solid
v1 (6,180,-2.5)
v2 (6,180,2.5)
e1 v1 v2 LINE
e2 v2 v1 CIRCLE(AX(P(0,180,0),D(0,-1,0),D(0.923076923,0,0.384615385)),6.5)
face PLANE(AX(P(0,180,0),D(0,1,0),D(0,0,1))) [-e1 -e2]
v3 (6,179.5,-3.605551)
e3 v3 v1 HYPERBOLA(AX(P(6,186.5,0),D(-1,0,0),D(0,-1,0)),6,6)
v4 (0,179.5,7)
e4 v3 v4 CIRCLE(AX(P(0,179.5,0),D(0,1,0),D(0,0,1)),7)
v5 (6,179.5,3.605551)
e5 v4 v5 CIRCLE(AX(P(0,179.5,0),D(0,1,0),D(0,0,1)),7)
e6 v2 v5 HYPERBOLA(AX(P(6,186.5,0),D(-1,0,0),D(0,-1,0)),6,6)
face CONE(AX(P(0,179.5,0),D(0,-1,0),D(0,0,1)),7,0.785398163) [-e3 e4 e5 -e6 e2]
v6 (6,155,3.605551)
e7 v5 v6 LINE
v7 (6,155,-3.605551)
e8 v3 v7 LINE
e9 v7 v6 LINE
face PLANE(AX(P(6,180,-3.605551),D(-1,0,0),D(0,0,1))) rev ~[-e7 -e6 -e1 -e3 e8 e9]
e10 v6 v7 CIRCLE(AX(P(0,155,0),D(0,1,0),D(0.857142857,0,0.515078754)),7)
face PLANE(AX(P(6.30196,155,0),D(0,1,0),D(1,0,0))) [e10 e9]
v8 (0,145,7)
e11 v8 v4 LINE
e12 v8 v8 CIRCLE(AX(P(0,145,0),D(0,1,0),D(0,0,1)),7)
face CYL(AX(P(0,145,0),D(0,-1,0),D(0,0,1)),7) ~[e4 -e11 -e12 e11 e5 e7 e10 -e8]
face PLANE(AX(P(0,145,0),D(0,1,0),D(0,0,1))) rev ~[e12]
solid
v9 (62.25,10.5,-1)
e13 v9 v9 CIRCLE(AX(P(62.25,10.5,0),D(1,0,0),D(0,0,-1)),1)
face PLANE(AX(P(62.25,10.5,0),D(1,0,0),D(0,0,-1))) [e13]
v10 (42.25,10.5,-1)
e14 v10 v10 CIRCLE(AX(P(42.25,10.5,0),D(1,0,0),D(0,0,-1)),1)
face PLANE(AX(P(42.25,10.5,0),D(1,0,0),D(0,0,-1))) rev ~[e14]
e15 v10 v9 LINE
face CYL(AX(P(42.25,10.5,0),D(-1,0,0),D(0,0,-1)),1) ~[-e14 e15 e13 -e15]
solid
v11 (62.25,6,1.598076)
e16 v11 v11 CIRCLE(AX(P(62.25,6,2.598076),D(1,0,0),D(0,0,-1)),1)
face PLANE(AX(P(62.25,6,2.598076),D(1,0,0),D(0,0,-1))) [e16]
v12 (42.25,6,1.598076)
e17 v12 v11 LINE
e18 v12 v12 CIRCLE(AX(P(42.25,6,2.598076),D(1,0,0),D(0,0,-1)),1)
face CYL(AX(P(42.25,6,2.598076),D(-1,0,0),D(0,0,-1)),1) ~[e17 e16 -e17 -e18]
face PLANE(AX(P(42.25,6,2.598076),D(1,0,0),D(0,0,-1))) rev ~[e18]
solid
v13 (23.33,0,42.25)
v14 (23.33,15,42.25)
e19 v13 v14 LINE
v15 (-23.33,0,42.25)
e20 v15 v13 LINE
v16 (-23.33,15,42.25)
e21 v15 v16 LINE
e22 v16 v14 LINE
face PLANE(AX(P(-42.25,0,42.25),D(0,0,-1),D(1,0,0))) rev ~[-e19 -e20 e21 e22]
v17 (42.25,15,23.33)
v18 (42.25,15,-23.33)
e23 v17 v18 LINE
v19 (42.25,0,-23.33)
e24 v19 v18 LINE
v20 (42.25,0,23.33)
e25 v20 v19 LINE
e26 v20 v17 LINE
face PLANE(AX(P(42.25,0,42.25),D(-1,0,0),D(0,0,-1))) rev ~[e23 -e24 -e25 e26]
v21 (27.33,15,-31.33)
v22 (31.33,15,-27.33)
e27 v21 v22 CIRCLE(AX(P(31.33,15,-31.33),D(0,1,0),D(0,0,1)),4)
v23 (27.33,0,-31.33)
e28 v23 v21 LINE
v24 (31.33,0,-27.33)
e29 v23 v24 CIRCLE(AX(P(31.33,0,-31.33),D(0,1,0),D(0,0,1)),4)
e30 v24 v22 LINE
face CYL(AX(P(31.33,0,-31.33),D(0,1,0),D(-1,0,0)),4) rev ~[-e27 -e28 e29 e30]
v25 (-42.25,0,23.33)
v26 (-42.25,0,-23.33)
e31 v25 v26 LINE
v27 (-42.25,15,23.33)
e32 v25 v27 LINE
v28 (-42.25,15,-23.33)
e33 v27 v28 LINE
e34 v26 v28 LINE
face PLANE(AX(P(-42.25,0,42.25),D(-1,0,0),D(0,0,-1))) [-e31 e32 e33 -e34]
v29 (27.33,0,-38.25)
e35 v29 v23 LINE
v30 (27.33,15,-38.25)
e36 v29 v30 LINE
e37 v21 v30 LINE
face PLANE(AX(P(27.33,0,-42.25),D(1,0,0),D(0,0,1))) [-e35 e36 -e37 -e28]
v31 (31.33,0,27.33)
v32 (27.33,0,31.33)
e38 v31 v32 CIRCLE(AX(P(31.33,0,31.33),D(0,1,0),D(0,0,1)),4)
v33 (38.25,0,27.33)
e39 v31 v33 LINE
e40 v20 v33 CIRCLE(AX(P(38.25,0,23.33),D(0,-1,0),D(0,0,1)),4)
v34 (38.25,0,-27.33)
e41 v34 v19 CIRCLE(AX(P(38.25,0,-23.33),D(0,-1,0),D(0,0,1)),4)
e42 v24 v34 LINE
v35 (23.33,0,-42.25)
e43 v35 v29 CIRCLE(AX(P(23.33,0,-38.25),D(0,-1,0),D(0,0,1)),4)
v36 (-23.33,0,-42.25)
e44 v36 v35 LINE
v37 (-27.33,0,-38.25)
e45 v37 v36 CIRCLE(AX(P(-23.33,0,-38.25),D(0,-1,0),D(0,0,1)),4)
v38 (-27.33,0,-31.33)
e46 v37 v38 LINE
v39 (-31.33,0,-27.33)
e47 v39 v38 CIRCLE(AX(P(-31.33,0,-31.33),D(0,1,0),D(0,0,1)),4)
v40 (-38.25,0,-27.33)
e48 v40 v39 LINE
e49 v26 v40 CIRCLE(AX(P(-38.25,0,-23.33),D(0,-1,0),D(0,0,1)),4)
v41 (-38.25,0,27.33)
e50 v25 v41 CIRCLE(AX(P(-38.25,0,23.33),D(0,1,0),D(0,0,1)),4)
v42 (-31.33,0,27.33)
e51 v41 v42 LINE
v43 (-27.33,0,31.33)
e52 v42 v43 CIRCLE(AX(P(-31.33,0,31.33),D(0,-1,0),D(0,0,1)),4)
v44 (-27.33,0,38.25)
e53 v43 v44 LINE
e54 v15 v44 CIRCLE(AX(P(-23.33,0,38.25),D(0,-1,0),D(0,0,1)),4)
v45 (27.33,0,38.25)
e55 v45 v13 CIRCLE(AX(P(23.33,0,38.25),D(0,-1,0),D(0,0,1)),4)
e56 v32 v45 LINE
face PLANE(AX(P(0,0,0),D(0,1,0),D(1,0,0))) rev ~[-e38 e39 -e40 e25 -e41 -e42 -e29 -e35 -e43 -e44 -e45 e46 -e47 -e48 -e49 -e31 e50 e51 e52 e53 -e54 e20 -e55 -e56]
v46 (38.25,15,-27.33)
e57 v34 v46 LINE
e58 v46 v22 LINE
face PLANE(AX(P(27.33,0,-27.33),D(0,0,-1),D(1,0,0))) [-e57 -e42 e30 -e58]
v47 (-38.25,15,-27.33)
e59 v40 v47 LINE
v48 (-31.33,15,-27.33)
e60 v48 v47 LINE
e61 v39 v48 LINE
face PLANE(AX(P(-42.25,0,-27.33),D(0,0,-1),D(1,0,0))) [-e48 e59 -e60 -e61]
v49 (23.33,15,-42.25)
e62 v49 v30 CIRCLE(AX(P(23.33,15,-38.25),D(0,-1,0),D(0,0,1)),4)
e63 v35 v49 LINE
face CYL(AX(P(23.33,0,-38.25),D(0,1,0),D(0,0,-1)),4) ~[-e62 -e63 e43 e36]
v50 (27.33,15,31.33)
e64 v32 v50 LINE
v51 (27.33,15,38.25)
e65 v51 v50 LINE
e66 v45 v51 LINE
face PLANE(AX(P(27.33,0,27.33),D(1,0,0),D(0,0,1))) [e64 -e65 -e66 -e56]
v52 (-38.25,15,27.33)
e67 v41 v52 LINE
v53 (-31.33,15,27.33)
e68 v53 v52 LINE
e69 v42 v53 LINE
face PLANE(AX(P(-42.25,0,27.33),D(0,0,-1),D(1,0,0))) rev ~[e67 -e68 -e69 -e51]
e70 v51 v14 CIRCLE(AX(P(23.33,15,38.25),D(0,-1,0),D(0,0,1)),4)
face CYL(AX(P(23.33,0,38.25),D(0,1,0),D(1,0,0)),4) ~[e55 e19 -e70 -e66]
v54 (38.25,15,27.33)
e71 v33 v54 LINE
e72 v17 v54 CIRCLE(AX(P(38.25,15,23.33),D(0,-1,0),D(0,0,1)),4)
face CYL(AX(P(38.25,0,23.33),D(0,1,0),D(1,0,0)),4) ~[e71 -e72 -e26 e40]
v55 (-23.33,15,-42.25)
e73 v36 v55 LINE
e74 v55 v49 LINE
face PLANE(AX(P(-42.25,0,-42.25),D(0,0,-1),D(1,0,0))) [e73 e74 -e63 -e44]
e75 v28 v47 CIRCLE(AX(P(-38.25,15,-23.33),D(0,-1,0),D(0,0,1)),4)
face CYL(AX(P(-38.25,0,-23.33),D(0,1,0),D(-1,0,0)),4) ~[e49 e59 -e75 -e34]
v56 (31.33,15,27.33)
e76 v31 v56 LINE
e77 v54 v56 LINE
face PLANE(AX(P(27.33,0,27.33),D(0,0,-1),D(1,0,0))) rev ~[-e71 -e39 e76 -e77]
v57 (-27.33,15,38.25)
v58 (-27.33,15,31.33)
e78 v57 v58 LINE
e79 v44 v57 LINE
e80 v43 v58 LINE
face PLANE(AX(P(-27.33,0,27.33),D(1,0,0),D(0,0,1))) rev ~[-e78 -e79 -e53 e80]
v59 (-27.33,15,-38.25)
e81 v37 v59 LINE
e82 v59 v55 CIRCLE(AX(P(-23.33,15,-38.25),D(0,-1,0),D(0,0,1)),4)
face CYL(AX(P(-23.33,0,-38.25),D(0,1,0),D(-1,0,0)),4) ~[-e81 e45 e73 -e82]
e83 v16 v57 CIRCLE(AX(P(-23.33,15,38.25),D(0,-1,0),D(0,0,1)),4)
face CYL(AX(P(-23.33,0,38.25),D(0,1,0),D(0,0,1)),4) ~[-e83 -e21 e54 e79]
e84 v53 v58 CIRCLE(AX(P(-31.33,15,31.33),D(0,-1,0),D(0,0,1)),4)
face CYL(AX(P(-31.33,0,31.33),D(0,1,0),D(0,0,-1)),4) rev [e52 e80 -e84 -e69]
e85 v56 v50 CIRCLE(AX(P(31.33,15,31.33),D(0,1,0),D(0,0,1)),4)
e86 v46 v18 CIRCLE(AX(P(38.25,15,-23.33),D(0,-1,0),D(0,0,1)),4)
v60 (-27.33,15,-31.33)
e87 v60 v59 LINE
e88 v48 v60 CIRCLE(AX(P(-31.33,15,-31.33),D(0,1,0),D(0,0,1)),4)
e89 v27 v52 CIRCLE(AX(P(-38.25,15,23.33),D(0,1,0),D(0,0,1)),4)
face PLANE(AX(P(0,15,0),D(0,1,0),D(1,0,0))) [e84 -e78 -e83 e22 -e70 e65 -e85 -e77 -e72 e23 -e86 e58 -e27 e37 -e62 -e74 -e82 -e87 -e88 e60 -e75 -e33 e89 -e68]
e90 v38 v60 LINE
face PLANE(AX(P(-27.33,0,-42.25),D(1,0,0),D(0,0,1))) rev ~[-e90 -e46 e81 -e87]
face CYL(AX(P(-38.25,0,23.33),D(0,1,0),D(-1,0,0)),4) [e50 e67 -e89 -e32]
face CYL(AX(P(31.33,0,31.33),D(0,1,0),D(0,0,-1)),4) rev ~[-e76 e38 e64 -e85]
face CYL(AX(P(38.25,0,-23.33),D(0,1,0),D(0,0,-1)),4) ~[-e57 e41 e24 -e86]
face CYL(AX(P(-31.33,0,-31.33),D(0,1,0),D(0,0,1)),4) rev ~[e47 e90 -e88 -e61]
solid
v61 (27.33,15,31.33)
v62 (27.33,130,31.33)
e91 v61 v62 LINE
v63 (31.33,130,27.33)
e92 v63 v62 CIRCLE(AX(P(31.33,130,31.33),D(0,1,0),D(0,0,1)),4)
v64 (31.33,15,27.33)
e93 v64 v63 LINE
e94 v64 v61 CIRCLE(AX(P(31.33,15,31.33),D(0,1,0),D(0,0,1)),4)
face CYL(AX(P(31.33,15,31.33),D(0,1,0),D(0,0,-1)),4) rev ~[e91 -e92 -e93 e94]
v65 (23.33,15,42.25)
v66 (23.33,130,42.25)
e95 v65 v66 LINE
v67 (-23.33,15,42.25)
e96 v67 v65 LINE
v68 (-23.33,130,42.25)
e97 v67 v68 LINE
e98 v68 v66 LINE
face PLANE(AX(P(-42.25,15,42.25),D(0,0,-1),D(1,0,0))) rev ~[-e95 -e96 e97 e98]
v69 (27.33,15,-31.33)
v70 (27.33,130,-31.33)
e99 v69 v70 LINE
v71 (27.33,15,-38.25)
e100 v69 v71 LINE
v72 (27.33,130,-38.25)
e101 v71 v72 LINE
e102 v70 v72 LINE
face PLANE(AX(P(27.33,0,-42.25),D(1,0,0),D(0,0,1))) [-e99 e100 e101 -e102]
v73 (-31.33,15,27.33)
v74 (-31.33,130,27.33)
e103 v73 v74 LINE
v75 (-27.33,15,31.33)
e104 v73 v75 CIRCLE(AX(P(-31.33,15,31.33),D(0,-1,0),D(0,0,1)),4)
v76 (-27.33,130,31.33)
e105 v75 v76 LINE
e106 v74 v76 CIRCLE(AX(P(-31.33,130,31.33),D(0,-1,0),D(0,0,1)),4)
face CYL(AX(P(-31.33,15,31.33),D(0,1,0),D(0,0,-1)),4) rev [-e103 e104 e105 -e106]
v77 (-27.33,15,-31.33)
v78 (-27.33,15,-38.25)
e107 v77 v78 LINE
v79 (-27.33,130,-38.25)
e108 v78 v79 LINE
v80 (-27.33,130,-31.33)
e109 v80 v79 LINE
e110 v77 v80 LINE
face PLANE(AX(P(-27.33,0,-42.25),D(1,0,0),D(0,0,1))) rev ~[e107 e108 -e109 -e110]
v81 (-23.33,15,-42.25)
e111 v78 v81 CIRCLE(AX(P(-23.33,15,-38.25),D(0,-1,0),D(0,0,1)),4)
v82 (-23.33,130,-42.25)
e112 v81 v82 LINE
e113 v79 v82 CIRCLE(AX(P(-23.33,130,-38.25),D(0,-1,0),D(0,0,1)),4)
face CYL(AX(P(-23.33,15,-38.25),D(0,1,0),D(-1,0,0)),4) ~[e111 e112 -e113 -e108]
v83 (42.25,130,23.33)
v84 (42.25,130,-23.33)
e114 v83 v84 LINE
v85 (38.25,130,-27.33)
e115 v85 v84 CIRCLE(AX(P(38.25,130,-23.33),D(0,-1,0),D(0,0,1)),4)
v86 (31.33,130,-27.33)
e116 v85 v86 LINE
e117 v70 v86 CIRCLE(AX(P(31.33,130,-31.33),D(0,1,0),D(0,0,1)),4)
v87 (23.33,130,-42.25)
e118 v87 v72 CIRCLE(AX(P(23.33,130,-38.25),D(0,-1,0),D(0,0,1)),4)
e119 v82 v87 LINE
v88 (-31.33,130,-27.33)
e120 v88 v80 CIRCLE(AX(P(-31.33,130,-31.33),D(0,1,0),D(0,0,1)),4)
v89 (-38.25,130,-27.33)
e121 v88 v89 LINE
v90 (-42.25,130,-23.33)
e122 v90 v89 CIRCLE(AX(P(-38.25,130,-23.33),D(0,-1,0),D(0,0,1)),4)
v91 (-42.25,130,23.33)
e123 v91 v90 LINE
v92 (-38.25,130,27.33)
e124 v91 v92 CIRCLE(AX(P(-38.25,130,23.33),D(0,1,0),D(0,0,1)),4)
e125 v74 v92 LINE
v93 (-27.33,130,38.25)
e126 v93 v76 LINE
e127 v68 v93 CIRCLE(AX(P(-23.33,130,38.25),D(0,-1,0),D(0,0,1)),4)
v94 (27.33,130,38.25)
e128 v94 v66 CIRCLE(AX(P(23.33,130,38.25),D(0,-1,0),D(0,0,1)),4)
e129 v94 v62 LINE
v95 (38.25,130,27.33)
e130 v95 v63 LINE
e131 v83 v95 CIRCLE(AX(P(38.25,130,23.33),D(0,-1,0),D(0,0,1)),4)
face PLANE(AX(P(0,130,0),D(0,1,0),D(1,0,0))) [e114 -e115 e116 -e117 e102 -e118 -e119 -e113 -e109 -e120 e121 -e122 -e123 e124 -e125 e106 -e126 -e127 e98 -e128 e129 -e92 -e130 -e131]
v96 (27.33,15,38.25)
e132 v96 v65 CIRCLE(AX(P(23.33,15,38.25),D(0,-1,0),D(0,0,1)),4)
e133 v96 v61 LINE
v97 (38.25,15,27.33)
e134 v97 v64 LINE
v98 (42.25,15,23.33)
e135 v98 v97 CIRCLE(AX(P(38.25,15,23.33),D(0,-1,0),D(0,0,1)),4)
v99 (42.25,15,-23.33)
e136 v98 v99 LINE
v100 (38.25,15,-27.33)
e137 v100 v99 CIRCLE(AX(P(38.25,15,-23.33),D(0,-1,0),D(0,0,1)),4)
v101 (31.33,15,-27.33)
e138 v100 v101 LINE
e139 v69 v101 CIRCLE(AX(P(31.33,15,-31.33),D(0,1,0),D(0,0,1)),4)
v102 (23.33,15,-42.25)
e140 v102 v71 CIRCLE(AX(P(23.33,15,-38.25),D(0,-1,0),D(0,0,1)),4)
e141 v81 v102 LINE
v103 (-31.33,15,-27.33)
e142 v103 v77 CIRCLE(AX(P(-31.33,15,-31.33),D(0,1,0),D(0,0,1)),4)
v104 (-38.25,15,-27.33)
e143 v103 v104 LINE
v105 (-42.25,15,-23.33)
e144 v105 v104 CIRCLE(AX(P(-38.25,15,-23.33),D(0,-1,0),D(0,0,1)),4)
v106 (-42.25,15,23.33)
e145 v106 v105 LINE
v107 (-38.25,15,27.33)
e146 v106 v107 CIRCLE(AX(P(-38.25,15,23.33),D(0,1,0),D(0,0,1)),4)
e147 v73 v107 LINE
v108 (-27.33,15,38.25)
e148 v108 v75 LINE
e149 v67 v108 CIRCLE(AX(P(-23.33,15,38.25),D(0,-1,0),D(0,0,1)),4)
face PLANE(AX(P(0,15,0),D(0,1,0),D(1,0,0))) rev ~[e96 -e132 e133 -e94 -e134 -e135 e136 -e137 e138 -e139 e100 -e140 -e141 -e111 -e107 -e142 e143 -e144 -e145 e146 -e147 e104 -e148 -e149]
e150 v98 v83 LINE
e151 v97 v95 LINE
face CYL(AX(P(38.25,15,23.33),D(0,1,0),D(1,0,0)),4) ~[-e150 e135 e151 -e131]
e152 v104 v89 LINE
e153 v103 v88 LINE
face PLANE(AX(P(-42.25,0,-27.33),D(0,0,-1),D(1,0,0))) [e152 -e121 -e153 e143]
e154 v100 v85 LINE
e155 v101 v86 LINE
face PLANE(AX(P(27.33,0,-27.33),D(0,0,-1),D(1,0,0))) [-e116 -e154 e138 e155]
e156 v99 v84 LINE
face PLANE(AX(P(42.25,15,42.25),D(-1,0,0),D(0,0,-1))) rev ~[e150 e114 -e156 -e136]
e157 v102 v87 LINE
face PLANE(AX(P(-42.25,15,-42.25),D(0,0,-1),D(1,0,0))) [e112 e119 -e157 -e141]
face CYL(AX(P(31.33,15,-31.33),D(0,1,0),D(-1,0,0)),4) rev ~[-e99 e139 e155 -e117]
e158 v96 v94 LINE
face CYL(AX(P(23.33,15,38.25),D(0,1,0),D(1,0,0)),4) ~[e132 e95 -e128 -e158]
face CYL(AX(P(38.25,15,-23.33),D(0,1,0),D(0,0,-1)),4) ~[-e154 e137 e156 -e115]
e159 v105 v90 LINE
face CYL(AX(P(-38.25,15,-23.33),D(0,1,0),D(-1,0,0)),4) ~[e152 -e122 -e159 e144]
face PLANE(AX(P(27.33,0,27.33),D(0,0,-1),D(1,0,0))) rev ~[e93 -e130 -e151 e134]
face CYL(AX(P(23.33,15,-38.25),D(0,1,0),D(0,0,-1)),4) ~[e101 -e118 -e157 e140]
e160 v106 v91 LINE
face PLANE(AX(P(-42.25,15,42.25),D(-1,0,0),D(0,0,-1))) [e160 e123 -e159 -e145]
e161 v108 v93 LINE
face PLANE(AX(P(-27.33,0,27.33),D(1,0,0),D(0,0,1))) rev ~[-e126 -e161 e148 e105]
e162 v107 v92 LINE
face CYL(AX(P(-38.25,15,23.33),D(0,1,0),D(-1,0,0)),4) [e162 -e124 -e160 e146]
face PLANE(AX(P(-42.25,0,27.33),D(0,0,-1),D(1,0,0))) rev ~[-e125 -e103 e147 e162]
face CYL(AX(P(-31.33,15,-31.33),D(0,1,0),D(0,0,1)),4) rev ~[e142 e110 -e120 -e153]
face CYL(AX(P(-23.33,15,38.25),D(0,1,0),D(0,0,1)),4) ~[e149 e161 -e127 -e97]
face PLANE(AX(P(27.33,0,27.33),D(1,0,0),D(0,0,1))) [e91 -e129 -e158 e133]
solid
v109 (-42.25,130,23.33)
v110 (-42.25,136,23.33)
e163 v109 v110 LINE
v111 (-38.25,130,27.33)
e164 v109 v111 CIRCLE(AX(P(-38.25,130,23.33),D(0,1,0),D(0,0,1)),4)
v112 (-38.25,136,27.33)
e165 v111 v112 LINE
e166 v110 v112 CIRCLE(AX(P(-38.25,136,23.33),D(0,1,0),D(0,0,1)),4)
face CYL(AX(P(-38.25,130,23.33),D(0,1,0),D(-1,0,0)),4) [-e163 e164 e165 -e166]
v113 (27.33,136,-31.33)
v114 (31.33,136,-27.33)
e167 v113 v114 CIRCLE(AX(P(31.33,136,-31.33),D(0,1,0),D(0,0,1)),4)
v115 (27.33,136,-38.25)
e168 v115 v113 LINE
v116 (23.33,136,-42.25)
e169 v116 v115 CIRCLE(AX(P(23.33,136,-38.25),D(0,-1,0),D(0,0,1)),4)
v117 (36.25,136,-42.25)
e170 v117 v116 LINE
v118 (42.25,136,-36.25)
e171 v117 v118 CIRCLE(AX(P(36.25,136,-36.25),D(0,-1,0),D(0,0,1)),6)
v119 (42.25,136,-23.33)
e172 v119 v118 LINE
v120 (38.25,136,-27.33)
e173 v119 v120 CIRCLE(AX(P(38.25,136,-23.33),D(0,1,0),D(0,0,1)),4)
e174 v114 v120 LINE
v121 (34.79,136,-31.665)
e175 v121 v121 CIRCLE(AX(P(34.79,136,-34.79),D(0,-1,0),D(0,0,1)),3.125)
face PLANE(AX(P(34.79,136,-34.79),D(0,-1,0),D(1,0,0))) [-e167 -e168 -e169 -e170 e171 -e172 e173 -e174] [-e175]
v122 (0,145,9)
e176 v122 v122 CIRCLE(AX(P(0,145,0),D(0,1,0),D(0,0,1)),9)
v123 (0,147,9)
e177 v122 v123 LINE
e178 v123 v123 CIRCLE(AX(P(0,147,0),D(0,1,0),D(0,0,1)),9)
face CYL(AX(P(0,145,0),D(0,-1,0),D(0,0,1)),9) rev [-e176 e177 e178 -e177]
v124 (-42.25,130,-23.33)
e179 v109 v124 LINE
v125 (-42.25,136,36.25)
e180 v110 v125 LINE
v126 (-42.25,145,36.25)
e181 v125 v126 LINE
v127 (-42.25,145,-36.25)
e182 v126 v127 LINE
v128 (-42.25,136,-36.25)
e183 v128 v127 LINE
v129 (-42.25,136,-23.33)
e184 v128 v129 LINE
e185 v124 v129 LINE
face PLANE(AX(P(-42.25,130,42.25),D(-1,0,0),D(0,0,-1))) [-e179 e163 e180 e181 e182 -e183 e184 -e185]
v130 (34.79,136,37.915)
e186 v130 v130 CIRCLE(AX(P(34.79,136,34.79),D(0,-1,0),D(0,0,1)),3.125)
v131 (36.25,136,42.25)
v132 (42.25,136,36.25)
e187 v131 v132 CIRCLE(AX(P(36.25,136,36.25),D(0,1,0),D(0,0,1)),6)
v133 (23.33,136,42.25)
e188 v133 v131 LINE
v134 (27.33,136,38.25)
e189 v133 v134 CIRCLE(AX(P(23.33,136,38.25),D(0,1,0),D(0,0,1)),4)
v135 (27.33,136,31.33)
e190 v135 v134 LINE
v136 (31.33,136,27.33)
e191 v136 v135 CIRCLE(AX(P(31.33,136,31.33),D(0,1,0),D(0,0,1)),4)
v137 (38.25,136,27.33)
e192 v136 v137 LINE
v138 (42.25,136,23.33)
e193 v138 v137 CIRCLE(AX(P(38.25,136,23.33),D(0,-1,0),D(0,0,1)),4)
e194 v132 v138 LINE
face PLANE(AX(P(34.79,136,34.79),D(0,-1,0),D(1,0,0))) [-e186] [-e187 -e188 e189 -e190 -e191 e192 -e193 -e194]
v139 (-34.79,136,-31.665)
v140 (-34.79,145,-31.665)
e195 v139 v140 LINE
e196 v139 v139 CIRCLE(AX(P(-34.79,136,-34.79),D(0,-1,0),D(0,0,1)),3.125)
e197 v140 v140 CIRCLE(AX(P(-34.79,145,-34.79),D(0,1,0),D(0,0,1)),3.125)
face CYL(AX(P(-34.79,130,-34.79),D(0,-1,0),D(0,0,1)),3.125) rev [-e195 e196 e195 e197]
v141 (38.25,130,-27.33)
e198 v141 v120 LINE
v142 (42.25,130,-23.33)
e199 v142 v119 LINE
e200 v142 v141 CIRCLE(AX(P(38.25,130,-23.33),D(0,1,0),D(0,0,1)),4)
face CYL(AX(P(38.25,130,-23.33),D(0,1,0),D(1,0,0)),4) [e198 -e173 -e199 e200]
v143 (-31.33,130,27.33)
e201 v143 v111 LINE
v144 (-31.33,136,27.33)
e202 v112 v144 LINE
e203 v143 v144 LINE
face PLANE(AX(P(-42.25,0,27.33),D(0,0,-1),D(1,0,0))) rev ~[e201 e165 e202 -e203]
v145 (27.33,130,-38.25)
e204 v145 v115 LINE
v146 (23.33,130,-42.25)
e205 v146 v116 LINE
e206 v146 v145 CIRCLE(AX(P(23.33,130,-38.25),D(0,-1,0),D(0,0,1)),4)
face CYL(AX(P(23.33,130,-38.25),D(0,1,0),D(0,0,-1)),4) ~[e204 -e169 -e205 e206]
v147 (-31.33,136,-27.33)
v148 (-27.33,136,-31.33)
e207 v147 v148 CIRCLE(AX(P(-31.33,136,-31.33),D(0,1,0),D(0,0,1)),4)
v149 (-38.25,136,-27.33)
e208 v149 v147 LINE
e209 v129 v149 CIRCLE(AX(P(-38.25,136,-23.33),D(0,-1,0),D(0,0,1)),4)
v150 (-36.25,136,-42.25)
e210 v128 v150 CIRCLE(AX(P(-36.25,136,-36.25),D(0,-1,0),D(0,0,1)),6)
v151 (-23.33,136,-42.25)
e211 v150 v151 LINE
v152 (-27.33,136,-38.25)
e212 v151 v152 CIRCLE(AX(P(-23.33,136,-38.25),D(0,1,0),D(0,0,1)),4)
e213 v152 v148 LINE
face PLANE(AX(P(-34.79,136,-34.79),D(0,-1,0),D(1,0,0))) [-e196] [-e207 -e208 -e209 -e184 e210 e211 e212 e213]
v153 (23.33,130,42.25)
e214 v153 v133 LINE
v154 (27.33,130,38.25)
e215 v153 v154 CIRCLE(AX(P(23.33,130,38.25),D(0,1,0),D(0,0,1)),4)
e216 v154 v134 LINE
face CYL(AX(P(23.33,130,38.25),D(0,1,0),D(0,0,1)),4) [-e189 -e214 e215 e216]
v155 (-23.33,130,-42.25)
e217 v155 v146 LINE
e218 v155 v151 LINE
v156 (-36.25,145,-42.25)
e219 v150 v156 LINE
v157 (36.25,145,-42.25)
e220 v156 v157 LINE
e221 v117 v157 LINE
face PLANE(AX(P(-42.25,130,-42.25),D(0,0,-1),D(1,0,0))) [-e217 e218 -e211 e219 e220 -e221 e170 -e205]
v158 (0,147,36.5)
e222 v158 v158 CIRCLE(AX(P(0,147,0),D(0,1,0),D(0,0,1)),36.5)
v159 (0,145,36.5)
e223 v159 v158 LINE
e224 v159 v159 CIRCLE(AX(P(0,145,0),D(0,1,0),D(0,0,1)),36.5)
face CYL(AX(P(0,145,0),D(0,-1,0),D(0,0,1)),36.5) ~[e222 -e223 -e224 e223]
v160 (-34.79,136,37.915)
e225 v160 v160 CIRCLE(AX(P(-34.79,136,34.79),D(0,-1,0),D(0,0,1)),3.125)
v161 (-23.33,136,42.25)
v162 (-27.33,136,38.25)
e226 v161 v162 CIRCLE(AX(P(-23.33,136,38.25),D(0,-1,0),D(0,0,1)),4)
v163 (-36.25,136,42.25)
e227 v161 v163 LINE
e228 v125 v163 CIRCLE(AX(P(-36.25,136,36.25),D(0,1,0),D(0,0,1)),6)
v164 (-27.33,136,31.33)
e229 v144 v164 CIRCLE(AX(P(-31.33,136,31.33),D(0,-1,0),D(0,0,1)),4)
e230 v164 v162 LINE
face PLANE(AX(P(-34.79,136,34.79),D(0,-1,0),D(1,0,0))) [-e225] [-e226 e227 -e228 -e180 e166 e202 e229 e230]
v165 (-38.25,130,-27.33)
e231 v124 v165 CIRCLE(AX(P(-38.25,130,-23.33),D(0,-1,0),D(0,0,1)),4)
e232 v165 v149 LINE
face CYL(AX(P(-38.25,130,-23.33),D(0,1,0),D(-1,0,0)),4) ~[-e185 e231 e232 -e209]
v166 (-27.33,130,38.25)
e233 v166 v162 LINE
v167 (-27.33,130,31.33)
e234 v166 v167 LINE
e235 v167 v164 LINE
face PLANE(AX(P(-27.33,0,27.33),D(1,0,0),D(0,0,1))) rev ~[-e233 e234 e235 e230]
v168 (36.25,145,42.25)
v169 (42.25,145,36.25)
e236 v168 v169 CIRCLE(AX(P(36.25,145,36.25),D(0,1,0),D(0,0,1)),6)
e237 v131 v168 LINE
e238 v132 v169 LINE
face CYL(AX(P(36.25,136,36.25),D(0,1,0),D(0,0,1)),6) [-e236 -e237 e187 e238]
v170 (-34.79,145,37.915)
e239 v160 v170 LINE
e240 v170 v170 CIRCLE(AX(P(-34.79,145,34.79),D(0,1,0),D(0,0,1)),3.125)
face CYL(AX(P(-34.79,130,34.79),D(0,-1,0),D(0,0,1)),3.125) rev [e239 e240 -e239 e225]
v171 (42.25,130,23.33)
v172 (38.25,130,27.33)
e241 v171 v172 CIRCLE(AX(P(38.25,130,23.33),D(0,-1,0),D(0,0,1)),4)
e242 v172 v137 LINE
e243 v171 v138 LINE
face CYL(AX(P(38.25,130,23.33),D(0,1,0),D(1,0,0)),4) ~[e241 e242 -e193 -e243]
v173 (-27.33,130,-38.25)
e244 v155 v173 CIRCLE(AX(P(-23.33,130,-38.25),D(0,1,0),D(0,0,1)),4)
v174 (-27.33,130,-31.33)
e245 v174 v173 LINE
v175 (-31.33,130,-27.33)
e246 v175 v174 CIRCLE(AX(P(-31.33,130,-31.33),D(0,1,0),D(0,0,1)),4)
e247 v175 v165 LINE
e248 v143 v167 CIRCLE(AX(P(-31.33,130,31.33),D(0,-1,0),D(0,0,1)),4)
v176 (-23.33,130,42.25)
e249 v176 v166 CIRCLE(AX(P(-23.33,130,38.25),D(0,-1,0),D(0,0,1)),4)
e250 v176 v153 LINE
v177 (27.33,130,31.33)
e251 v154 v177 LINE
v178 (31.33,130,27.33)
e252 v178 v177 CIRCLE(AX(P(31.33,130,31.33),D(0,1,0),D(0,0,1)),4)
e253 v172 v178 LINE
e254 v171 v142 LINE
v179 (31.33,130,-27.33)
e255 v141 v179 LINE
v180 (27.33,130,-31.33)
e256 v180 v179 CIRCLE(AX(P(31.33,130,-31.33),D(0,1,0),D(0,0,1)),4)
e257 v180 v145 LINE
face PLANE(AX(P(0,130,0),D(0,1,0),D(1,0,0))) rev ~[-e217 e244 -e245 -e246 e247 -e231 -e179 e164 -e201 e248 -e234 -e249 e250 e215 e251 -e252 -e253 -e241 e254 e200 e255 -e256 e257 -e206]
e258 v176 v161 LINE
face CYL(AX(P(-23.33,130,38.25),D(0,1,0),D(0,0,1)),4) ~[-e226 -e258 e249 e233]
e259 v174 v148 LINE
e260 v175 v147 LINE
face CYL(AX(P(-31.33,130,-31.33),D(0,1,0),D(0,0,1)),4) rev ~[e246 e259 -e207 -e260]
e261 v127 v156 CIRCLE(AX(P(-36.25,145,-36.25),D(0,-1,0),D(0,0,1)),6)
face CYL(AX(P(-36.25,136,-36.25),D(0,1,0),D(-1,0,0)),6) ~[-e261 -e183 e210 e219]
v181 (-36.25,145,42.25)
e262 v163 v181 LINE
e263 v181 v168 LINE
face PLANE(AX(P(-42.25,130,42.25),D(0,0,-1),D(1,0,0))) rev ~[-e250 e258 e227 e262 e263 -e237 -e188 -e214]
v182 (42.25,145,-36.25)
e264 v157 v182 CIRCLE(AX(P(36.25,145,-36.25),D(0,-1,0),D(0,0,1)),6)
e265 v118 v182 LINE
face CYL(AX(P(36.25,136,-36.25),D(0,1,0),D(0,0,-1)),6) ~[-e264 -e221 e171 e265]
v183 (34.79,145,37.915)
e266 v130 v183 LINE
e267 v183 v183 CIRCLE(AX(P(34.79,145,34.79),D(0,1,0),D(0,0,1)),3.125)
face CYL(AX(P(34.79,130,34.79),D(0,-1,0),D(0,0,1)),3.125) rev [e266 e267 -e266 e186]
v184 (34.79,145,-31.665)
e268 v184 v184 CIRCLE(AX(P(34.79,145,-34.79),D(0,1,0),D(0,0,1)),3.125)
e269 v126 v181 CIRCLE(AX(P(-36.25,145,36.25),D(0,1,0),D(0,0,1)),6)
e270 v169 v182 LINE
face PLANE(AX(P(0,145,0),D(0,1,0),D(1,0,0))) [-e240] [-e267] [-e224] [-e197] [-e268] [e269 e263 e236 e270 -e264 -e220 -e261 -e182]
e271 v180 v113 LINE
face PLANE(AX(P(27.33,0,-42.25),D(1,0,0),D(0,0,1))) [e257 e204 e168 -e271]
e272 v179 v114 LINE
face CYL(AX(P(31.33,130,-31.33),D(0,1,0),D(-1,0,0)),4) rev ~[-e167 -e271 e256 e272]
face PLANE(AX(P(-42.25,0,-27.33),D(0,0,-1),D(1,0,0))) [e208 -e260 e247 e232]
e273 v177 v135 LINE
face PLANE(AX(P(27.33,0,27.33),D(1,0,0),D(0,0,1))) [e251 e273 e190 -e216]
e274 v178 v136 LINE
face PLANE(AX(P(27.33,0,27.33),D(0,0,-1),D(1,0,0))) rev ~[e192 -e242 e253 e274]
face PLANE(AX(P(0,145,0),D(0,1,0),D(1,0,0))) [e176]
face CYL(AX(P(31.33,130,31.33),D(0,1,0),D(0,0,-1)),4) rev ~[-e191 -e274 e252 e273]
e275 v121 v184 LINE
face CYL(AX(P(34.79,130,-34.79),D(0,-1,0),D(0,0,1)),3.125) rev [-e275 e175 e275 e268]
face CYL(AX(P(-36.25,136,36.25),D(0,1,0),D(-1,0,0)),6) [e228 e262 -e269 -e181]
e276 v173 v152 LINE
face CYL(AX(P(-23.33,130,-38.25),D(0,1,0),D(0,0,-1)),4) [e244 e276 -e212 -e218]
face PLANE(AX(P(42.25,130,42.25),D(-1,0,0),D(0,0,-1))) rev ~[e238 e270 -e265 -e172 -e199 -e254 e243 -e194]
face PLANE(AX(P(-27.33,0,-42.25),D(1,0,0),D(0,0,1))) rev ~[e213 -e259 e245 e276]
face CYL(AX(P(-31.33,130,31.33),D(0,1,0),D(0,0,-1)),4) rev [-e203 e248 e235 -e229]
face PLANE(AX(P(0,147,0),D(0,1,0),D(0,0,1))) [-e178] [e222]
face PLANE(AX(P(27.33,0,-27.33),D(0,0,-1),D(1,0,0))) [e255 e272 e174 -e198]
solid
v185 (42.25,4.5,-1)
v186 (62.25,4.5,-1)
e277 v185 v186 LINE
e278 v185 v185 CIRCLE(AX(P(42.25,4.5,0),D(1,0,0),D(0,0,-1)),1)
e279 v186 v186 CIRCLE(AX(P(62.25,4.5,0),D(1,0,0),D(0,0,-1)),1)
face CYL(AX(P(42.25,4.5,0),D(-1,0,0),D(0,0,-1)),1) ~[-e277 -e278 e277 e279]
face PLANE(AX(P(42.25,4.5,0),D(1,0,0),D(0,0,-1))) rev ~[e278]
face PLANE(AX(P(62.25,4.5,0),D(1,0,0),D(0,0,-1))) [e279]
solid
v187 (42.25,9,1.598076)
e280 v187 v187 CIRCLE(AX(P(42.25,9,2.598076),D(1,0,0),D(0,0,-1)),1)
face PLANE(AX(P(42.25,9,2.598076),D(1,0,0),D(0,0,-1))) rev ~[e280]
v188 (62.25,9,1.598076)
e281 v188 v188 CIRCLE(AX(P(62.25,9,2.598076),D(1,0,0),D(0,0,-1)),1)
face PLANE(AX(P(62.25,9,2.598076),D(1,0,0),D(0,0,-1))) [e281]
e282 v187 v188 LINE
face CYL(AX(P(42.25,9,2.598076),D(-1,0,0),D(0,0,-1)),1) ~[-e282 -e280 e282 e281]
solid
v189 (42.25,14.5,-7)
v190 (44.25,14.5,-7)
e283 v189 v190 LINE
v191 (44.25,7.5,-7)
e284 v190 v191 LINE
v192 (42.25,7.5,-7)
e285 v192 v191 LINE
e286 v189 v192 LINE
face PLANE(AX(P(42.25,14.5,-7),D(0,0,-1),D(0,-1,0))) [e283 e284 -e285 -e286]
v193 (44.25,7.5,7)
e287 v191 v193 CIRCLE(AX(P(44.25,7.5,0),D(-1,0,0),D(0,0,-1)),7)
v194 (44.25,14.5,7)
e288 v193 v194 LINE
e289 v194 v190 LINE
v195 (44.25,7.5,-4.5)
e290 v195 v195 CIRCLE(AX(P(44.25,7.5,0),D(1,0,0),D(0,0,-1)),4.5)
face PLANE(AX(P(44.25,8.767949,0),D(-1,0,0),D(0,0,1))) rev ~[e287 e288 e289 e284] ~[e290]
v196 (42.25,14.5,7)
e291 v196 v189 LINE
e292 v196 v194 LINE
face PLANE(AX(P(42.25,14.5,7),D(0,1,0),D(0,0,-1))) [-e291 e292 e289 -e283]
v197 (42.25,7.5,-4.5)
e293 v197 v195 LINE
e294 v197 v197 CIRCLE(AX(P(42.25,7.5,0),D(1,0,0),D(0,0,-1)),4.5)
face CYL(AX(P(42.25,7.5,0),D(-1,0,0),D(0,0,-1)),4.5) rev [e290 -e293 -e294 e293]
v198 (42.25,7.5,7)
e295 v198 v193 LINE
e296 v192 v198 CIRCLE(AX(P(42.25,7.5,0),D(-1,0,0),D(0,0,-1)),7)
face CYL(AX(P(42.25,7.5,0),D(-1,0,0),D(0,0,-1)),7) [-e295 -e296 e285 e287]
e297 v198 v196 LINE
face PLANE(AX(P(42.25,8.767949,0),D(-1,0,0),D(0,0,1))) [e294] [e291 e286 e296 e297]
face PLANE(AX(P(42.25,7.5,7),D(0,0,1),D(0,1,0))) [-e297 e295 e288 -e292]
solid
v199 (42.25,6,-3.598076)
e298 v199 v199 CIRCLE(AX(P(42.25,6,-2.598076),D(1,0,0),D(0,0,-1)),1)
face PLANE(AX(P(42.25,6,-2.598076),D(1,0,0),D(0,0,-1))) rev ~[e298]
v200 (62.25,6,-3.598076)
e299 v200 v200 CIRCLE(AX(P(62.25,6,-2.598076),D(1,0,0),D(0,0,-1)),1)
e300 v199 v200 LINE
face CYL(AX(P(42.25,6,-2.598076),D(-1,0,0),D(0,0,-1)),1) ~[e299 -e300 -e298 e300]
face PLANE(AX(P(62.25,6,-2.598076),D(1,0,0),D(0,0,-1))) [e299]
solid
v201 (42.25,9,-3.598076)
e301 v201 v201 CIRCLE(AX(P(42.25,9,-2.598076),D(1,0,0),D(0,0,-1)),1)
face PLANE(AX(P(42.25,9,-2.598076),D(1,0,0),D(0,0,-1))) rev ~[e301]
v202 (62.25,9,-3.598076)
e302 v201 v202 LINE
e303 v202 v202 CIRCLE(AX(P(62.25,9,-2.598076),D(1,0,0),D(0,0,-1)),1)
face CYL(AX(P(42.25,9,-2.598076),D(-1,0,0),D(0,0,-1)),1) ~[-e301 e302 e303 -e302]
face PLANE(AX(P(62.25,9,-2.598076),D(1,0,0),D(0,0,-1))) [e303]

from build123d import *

# Parameters (mm, degrees)
SKETCH1_W             = 84.5
SKETCH1_H             = 84.5
SKETCH1_R             = 3.125
BOSS_EXTRUDE2_DEPTH   = 15
SKETCH2_W             = 84.5
SKETCH2_H             = 84.5
SKETCH2_R             = 3.125
BOSS_EXTRUDE3_DEPTH   = 115
SKETCH3_W             = 84.5
SKETCH3_H             = 84.5
SKETCH3_R             = 3.125
BOSS_EXTRUDE4_DEPTH   = 15
SKETCH4_R             = 4.5
BOSS_EXTRUDE5_DEPTH   = 2
SKETCH5_R             = 1
BOSS_EXTRUDE6_DEPTH   = 20
BOSS_EXTRUDE6_2_DEPTH = 20
BOSS_EXTRUDE6_3_DEPTH = 20
BOSS_EXTRUDE6_4_DEPTH = 20
BOSS_EXTRUDE6_5_DEPTH = 20
BOSS_EXTRUDE6_6_DEPTH = 20
SKETCH6_R             = 36.5
SKETCH6_R_2           = 9
BOSS_EXTRUDE7_DEPTH   = 2
SKETCH7_R             = 7
BOSS_EXTRUDE8_DEPTH   = 35
SKETCH11_W            = 14.92
SKETCH11_H            = 14.92
CUT_EXTRUDE1_DEPTH    = 136
FILLET1_R             = 6
FILLET2_R             = 4
FILLET3_R             = 4
CHAMFER1_SIZE         = 0.5
FILLET4_R             = 4
CUT_EXTRUDE2_DEPTH    = 25


with BuildPart() as part:
    # Sketch1 → Boss-Extrude2 (new body)
    with BuildSketch(Plane(origin=(0, 0, 0), x_dir=(1, 0, 0), z_dir=(0, 1, 0))):
        Rectangle(SKETCH1_W, SKETCH1_H)
        with Locations(Location((34.79, 34.79, 0), (0, 0, 270))):
            Circle(SKETCH1_R, mode=Mode.SUBTRACT)
        with Locations(Location((34.79, -34.79, 0), (0, 0, 270))):
            Circle(SKETCH1_R, mode=Mode.SUBTRACT)
        with Locations(Location((-34.79, -34.79, 0), (0, 0, 270))):
            Circle(SKETCH1_R, mode=Mode.SUBTRACT)
        with Locations(Location((-34.79, 34.79, 0), (0, 0, 270))):
            Circle(SKETCH1_R, mode=Mode.SUBTRACT)
    extrude(amount=BOSS_EXTRUDE2_DEPTH)


with BuildPart() as body_2:
    # Sketch2 → Boss-Extrude3 (new body)
    with BuildSketch(Plane(origin=(0, 15, 0), x_dir=(1, 0, 0), z_dir=(0, 1, 0))):
        Rectangle(SKETCH2_W, SKETCH2_H)
        with Locations(Location((-34.79, -34.79, 0), (0, 0, 270))):
            Circle(SKETCH2_R, mode=Mode.SUBTRACT)
        with Locations(Location((34.79, -34.79, 0), (0, 0, 270))):
            Circle(SKETCH2_R, mode=Mode.SUBTRACT)
        with Locations(Location((34.79, 34.79, 0), (0, 0, 270))):
            Circle(SKETCH2_R, mode=Mode.SUBTRACT)
        with Locations(Location((-34.79, 34.79, 0), (0, 0, 270))):
            Circle(SKETCH2_R, mode=Mode.SUBTRACT)
    extrude(amount=BOSS_EXTRUDE3_DEPTH)


with BuildPart() as body_3:
    # Sketch3 → Boss-Extrude4 (new body)
    with BuildSketch(Plane(origin=(0, 130, 0), x_dir=(1, 0, 0), z_dir=(0, 1, 0))):
        Rectangle(SKETCH3_W, SKETCH3_H)
        with Locations(Location((34.79, 34.79, 0), (0, 0, 270))):
            Circle(SKETCH3_R, mode=Mode.SUBTRACT)
        with Locations(Location((34.79, -34.79, 0), (0, 0, 270))):
            Circle(SKETCH3_R, mode=Mode.SUBTRACT)
        with Locations(Location((-34.79, -34.79, 0), (0, 0, 270))):
            Circle(SKETCH3_R, mode=Mode.SUBTRACT)
        with Locations(Location((-34.79, 34.79, 0), (0, 0, 270))):
            Circle(SKETCH3_R, mode=Mode.SUBTRACT)
    extrude(amount=BOSS_EXTRUDE4_DEPTH)

    # Sketch6 → Boss-Extrude7 (add)
    with BuildSketch(Plane(origin=(0, 145, 0), x_dir=(1, 0, 0), z_dir=(0, 1, 0))):
        with Locations(Location((0, 0, 0), (0, 0, 270))):
            Circle(SKETCH6_R)
        with Locations(Location((0, 0, 0), (0, 0, 270))):
            Circle(SKETCH6_R_2, mode=Mode.SUBTRACT)
    extrude(amount=BOSS_EXTRUDE7_DEPTH)


with BuildPart() as body_4:
    # Sketch4 → Boss-Extrude5 (new body)
    with BuildSketch(Plane(origin=(42.25, 0, 0), x_dir=(0, 0, -1), z_dir=(1, 0, 0))):
        with BuildLine():
            Line((-7, 7.5), (-7, 14.5))
            Line((-7, 14.5), (7, 14.5))
            Line((7, 14.5), (7, 7.5))
            ThreePointArc((7, 7.5), (0, 0.5), (-7, 7.5))
        make_face()
        with Locations((0, 7.5)):
            Circle(SKETCH4_R, mode=Mode.SUBTRACT)
    extrude(amount=BOSS_EXTRUDE5_DEPTH)


with BuildPart() as body_5:
    # Sketch5 → Boss-Extrude6 (new body)
    with BuildSketch(Plane(origin=(42.25, 0, 0), x_dir=(0, 0, -1), z_dir=(1, 0, 0))):
        with Locations((-2.598076211, 6)):
            Circle(SKETCH5_R)
    extrude(amount=BOSS_EXTRUDE6_DEPTH)


with BuildPart() as body_6:
    # Sketch5 → Boss-Extrude6 2 (new body)
    with BuildSketch(Plane(origin=(42.25, 0, 0), x_dir=(0, 0, -1), z_dir=(1, 0, 0))):
        with Locations((0, 4.5)):
            Circle(SKETCH5_R)
    extrude(amount=BOSS_EXTRUDE6_2_DEPTH)


with BuildPart() as body_7:
    # Sketch5 → Boss-Extrude6 3 (new body)
    with BuildSketch(Plane(origin=(42.25, 0, 0), x_dir=(0, 0, -1), z_dir=(1, 0, 0))):
        with Locations((-2.598076211, 9)):
            Circle(SKETCH5_R)
    extrude(amount=BOSS_EXTRUDE6_3_DEPTH)


with BuildPart() as body_8:
    # Sketch5 → Boss-Extrude6 4 (new body)
    with BuildSketch(Plane(origin=(42.25, 0, 0), x_dir=(0, 0, -1), z_dir=(1, 0, 0))):
        with Locations((0, 10.5)):
            Circle(SKETCH5_R)
    extrude(amount=BOSS_EXTRUDE6_4_DEPTH)


with BuildPart() as body_9:
    # Sketch5 → Boss-Extrude6 5 (new body)
    with BuildSketch(Plane(origin=(42.25, 0, 0), x_dir=(0, 0, -1), z_dir=(1, 0, 0))):
        with Locations((2.598076211, 9)):
            Circle(SKETCH5_R)
    extrude(amount=BOSS_EXTRUDE6_5_DEPTH)


with BuildPart() as body_10:
    # Sketch5 → Boss-Extrude6 6 (new body)
    with BuildSketch(Plane(origin=(42.25, 0, 0), x_dir=(0, 0, -1), z_dir=(1, 0, 0))):
        with Locations((2.598076211, 6)):
            Circle(SKETCH5_R)
    extrude(amount=BOSS_EXTRUDE6_6_DEPTH)


with BuildPart() as body_11:
    # Sketch7 → Boss-Extrude8 (new body)
    with BuildSketch(Plane(origin=(0, 145, 0), x_dir=(1, 0, 0), z_dir=(0, 1, 0))):
        with Locations(Location((0, 0, 0), (0, 0, 270))):
            Circle(SKETCH7_R)
    extrude(amount=BOSS_EXTRUDE8_DEPTH)

    # Chamfer1
    chamfer1_edges = [body_11.edges().sort_by_distance(p)[0] for p in [
        (0, 180, -7),
    ]]
    chamfer(chamfer1_edges, length=CHAMFER1_SIZE)

    # Sketch12 → Cut-Extrude2 (cut)
    with BuildSketch(Plane(origin=(0, 180, 0), x_dir=(1, 0, 0), z_dir=(0, 1, 0))):
        with BuildLine():
            Line((6, 3.605551275), (6, -3.605551275))
            ThreePointArc((6, -3.605551275), (7, 0), (6, 3.605551275))
        make_face()
    extrude(amount=-CUT_EXTRUDE2_DEPTH, mode=Mode.SUBTRACT)


with BuildPart() as cut_extrude1_tool:
    # Sketch11 → Cut-Extrude1 (new body)
    with BuildSketch(Plane.XZ):
        with Locations((34.79, 34.79)):
            Rectangle(SKETCH11_W, SKETCH11_H)
        with Locations((-34.79, 34.79)):
            Rectangle(SKETCH11_W, SKETCH11_H)
        with Locations((34.79, -34.79)):
            Rectangle(SKETCH11_W, SKETCH11_H)
        with Locations((-34.79, -34.79)):
            Rectangle(SKETCH11_W, SKETCH11_H)
    extrude(amount=-CUT_EXTRUDE1_DEPTH)


with BuildPart() as part_1:
    add(part.part)

    # Cut-Extrude1: cut by cut_extrude1_tool
    add(cut_extrude1_tool.part, mode=Mode.SUBTRACT)

    # Fillet2
    fillet2_edges = [part_1.edges().sort_by_distance(p)[0] for p in [
        (-27.33, 7.5, -42.25),
        (27.33, 7.5, -42.25),
        (42.25, 7.5, 27.33),
        (-27.33, 7.5, 42.25),
        (27.33, 7.5, 27.33),
        (27.33, 7.5, 42.25),
        (-27.33, 7.5, 27.33),
        (-42.25, 7.5, 27.33),
        (27.33, 7.5, -27.33),
        (42.25, 7.5, -27.33),
        (-27.33, 7.5, -27.33),
        (-42.25, 7.5, -27.33),
    ]]
    fillet(fillet2_edges, radius=FILLET2_R)


with BuildPart() as body_2_1:
    add(body_2.part)

    # Cut-Extrude1: cut by cut_extrude1_tool
    add(cut_extrude1_tool.part, mode=Mode.SUBTRACT)

    # Fillet3
    fillet3_edges = [body_2_1.edges().sort_by_distance(p)[0] for p in [
        (-27.33, 72.5, -42.25),
        (27.33, 72.5, -42.25),
        (42.25, 72.5, 27.33),
        (-27.33, 72.5, 42.25),
        (27.33, 72.5, 27.33),
        (27.33, 72.5, 42.25),
        (-27.33, 72.5, 27.33),
        (-42.25, 72.5, 27.33),
        (27.33, 72.5, -27.33),
        (42.25, 72.5, -27.33),
        (-42.25, 72.5, -27.33),
        (-27.33, 72.5, -27.33),
    ]]
    fillet(fillet3_edges, radius=FILLET3_R)


with BuildPart() as body_3_1:
    add(body_3.part)

    # Cut-Extrude1: cut by cut_extrude1_tool
    add(cut_extrude1_tool.part, mode=Mode.SUBTRACT)

    # Fillet1
    fillet1_edges = [body_3_1.edges().sort_by_distance(p)[0] for p in [
        (-42.25, 140.5, -42.25),
        (42.25, 140.5, -42.25),
        (42.25, 140.5, 42.25),
        (-42.25, 140.5, 42.25),
    ]]
    fillet(fillet1_edges, radius=FILLET1_R)

    # Fillet4
    fillet4_edges = [body_3_1.edges().sort_by_distance(p)[0] for p in [
        (27.33, 133, 27.33),
        (42.25, 133, 27.33),
        (27.33, 133, 42.25),
        (-27.33, 133, 27.33),
        (-27.33, 133, 42.25),
        (-42.25, 133, 27.33),
        (27.33, 133, -27.33),
        (27.33, 133, -42.25),
        (42.25, 133, -27.33),
        (-42.25, 133, -27.33),
        (-27.33, 133, -42.25),
        (-27.33, 133, -27.33),
    ]]
    fillet(fillet4_edges, radius=FILLET4_R)


solid = Compound([body_4.part, body_5.part, body_6.part, body_7.part, body_8.part, body_9.part, body_10.part, body_11.part, part_1.part, body_2_1.part, body_3_1.part])
